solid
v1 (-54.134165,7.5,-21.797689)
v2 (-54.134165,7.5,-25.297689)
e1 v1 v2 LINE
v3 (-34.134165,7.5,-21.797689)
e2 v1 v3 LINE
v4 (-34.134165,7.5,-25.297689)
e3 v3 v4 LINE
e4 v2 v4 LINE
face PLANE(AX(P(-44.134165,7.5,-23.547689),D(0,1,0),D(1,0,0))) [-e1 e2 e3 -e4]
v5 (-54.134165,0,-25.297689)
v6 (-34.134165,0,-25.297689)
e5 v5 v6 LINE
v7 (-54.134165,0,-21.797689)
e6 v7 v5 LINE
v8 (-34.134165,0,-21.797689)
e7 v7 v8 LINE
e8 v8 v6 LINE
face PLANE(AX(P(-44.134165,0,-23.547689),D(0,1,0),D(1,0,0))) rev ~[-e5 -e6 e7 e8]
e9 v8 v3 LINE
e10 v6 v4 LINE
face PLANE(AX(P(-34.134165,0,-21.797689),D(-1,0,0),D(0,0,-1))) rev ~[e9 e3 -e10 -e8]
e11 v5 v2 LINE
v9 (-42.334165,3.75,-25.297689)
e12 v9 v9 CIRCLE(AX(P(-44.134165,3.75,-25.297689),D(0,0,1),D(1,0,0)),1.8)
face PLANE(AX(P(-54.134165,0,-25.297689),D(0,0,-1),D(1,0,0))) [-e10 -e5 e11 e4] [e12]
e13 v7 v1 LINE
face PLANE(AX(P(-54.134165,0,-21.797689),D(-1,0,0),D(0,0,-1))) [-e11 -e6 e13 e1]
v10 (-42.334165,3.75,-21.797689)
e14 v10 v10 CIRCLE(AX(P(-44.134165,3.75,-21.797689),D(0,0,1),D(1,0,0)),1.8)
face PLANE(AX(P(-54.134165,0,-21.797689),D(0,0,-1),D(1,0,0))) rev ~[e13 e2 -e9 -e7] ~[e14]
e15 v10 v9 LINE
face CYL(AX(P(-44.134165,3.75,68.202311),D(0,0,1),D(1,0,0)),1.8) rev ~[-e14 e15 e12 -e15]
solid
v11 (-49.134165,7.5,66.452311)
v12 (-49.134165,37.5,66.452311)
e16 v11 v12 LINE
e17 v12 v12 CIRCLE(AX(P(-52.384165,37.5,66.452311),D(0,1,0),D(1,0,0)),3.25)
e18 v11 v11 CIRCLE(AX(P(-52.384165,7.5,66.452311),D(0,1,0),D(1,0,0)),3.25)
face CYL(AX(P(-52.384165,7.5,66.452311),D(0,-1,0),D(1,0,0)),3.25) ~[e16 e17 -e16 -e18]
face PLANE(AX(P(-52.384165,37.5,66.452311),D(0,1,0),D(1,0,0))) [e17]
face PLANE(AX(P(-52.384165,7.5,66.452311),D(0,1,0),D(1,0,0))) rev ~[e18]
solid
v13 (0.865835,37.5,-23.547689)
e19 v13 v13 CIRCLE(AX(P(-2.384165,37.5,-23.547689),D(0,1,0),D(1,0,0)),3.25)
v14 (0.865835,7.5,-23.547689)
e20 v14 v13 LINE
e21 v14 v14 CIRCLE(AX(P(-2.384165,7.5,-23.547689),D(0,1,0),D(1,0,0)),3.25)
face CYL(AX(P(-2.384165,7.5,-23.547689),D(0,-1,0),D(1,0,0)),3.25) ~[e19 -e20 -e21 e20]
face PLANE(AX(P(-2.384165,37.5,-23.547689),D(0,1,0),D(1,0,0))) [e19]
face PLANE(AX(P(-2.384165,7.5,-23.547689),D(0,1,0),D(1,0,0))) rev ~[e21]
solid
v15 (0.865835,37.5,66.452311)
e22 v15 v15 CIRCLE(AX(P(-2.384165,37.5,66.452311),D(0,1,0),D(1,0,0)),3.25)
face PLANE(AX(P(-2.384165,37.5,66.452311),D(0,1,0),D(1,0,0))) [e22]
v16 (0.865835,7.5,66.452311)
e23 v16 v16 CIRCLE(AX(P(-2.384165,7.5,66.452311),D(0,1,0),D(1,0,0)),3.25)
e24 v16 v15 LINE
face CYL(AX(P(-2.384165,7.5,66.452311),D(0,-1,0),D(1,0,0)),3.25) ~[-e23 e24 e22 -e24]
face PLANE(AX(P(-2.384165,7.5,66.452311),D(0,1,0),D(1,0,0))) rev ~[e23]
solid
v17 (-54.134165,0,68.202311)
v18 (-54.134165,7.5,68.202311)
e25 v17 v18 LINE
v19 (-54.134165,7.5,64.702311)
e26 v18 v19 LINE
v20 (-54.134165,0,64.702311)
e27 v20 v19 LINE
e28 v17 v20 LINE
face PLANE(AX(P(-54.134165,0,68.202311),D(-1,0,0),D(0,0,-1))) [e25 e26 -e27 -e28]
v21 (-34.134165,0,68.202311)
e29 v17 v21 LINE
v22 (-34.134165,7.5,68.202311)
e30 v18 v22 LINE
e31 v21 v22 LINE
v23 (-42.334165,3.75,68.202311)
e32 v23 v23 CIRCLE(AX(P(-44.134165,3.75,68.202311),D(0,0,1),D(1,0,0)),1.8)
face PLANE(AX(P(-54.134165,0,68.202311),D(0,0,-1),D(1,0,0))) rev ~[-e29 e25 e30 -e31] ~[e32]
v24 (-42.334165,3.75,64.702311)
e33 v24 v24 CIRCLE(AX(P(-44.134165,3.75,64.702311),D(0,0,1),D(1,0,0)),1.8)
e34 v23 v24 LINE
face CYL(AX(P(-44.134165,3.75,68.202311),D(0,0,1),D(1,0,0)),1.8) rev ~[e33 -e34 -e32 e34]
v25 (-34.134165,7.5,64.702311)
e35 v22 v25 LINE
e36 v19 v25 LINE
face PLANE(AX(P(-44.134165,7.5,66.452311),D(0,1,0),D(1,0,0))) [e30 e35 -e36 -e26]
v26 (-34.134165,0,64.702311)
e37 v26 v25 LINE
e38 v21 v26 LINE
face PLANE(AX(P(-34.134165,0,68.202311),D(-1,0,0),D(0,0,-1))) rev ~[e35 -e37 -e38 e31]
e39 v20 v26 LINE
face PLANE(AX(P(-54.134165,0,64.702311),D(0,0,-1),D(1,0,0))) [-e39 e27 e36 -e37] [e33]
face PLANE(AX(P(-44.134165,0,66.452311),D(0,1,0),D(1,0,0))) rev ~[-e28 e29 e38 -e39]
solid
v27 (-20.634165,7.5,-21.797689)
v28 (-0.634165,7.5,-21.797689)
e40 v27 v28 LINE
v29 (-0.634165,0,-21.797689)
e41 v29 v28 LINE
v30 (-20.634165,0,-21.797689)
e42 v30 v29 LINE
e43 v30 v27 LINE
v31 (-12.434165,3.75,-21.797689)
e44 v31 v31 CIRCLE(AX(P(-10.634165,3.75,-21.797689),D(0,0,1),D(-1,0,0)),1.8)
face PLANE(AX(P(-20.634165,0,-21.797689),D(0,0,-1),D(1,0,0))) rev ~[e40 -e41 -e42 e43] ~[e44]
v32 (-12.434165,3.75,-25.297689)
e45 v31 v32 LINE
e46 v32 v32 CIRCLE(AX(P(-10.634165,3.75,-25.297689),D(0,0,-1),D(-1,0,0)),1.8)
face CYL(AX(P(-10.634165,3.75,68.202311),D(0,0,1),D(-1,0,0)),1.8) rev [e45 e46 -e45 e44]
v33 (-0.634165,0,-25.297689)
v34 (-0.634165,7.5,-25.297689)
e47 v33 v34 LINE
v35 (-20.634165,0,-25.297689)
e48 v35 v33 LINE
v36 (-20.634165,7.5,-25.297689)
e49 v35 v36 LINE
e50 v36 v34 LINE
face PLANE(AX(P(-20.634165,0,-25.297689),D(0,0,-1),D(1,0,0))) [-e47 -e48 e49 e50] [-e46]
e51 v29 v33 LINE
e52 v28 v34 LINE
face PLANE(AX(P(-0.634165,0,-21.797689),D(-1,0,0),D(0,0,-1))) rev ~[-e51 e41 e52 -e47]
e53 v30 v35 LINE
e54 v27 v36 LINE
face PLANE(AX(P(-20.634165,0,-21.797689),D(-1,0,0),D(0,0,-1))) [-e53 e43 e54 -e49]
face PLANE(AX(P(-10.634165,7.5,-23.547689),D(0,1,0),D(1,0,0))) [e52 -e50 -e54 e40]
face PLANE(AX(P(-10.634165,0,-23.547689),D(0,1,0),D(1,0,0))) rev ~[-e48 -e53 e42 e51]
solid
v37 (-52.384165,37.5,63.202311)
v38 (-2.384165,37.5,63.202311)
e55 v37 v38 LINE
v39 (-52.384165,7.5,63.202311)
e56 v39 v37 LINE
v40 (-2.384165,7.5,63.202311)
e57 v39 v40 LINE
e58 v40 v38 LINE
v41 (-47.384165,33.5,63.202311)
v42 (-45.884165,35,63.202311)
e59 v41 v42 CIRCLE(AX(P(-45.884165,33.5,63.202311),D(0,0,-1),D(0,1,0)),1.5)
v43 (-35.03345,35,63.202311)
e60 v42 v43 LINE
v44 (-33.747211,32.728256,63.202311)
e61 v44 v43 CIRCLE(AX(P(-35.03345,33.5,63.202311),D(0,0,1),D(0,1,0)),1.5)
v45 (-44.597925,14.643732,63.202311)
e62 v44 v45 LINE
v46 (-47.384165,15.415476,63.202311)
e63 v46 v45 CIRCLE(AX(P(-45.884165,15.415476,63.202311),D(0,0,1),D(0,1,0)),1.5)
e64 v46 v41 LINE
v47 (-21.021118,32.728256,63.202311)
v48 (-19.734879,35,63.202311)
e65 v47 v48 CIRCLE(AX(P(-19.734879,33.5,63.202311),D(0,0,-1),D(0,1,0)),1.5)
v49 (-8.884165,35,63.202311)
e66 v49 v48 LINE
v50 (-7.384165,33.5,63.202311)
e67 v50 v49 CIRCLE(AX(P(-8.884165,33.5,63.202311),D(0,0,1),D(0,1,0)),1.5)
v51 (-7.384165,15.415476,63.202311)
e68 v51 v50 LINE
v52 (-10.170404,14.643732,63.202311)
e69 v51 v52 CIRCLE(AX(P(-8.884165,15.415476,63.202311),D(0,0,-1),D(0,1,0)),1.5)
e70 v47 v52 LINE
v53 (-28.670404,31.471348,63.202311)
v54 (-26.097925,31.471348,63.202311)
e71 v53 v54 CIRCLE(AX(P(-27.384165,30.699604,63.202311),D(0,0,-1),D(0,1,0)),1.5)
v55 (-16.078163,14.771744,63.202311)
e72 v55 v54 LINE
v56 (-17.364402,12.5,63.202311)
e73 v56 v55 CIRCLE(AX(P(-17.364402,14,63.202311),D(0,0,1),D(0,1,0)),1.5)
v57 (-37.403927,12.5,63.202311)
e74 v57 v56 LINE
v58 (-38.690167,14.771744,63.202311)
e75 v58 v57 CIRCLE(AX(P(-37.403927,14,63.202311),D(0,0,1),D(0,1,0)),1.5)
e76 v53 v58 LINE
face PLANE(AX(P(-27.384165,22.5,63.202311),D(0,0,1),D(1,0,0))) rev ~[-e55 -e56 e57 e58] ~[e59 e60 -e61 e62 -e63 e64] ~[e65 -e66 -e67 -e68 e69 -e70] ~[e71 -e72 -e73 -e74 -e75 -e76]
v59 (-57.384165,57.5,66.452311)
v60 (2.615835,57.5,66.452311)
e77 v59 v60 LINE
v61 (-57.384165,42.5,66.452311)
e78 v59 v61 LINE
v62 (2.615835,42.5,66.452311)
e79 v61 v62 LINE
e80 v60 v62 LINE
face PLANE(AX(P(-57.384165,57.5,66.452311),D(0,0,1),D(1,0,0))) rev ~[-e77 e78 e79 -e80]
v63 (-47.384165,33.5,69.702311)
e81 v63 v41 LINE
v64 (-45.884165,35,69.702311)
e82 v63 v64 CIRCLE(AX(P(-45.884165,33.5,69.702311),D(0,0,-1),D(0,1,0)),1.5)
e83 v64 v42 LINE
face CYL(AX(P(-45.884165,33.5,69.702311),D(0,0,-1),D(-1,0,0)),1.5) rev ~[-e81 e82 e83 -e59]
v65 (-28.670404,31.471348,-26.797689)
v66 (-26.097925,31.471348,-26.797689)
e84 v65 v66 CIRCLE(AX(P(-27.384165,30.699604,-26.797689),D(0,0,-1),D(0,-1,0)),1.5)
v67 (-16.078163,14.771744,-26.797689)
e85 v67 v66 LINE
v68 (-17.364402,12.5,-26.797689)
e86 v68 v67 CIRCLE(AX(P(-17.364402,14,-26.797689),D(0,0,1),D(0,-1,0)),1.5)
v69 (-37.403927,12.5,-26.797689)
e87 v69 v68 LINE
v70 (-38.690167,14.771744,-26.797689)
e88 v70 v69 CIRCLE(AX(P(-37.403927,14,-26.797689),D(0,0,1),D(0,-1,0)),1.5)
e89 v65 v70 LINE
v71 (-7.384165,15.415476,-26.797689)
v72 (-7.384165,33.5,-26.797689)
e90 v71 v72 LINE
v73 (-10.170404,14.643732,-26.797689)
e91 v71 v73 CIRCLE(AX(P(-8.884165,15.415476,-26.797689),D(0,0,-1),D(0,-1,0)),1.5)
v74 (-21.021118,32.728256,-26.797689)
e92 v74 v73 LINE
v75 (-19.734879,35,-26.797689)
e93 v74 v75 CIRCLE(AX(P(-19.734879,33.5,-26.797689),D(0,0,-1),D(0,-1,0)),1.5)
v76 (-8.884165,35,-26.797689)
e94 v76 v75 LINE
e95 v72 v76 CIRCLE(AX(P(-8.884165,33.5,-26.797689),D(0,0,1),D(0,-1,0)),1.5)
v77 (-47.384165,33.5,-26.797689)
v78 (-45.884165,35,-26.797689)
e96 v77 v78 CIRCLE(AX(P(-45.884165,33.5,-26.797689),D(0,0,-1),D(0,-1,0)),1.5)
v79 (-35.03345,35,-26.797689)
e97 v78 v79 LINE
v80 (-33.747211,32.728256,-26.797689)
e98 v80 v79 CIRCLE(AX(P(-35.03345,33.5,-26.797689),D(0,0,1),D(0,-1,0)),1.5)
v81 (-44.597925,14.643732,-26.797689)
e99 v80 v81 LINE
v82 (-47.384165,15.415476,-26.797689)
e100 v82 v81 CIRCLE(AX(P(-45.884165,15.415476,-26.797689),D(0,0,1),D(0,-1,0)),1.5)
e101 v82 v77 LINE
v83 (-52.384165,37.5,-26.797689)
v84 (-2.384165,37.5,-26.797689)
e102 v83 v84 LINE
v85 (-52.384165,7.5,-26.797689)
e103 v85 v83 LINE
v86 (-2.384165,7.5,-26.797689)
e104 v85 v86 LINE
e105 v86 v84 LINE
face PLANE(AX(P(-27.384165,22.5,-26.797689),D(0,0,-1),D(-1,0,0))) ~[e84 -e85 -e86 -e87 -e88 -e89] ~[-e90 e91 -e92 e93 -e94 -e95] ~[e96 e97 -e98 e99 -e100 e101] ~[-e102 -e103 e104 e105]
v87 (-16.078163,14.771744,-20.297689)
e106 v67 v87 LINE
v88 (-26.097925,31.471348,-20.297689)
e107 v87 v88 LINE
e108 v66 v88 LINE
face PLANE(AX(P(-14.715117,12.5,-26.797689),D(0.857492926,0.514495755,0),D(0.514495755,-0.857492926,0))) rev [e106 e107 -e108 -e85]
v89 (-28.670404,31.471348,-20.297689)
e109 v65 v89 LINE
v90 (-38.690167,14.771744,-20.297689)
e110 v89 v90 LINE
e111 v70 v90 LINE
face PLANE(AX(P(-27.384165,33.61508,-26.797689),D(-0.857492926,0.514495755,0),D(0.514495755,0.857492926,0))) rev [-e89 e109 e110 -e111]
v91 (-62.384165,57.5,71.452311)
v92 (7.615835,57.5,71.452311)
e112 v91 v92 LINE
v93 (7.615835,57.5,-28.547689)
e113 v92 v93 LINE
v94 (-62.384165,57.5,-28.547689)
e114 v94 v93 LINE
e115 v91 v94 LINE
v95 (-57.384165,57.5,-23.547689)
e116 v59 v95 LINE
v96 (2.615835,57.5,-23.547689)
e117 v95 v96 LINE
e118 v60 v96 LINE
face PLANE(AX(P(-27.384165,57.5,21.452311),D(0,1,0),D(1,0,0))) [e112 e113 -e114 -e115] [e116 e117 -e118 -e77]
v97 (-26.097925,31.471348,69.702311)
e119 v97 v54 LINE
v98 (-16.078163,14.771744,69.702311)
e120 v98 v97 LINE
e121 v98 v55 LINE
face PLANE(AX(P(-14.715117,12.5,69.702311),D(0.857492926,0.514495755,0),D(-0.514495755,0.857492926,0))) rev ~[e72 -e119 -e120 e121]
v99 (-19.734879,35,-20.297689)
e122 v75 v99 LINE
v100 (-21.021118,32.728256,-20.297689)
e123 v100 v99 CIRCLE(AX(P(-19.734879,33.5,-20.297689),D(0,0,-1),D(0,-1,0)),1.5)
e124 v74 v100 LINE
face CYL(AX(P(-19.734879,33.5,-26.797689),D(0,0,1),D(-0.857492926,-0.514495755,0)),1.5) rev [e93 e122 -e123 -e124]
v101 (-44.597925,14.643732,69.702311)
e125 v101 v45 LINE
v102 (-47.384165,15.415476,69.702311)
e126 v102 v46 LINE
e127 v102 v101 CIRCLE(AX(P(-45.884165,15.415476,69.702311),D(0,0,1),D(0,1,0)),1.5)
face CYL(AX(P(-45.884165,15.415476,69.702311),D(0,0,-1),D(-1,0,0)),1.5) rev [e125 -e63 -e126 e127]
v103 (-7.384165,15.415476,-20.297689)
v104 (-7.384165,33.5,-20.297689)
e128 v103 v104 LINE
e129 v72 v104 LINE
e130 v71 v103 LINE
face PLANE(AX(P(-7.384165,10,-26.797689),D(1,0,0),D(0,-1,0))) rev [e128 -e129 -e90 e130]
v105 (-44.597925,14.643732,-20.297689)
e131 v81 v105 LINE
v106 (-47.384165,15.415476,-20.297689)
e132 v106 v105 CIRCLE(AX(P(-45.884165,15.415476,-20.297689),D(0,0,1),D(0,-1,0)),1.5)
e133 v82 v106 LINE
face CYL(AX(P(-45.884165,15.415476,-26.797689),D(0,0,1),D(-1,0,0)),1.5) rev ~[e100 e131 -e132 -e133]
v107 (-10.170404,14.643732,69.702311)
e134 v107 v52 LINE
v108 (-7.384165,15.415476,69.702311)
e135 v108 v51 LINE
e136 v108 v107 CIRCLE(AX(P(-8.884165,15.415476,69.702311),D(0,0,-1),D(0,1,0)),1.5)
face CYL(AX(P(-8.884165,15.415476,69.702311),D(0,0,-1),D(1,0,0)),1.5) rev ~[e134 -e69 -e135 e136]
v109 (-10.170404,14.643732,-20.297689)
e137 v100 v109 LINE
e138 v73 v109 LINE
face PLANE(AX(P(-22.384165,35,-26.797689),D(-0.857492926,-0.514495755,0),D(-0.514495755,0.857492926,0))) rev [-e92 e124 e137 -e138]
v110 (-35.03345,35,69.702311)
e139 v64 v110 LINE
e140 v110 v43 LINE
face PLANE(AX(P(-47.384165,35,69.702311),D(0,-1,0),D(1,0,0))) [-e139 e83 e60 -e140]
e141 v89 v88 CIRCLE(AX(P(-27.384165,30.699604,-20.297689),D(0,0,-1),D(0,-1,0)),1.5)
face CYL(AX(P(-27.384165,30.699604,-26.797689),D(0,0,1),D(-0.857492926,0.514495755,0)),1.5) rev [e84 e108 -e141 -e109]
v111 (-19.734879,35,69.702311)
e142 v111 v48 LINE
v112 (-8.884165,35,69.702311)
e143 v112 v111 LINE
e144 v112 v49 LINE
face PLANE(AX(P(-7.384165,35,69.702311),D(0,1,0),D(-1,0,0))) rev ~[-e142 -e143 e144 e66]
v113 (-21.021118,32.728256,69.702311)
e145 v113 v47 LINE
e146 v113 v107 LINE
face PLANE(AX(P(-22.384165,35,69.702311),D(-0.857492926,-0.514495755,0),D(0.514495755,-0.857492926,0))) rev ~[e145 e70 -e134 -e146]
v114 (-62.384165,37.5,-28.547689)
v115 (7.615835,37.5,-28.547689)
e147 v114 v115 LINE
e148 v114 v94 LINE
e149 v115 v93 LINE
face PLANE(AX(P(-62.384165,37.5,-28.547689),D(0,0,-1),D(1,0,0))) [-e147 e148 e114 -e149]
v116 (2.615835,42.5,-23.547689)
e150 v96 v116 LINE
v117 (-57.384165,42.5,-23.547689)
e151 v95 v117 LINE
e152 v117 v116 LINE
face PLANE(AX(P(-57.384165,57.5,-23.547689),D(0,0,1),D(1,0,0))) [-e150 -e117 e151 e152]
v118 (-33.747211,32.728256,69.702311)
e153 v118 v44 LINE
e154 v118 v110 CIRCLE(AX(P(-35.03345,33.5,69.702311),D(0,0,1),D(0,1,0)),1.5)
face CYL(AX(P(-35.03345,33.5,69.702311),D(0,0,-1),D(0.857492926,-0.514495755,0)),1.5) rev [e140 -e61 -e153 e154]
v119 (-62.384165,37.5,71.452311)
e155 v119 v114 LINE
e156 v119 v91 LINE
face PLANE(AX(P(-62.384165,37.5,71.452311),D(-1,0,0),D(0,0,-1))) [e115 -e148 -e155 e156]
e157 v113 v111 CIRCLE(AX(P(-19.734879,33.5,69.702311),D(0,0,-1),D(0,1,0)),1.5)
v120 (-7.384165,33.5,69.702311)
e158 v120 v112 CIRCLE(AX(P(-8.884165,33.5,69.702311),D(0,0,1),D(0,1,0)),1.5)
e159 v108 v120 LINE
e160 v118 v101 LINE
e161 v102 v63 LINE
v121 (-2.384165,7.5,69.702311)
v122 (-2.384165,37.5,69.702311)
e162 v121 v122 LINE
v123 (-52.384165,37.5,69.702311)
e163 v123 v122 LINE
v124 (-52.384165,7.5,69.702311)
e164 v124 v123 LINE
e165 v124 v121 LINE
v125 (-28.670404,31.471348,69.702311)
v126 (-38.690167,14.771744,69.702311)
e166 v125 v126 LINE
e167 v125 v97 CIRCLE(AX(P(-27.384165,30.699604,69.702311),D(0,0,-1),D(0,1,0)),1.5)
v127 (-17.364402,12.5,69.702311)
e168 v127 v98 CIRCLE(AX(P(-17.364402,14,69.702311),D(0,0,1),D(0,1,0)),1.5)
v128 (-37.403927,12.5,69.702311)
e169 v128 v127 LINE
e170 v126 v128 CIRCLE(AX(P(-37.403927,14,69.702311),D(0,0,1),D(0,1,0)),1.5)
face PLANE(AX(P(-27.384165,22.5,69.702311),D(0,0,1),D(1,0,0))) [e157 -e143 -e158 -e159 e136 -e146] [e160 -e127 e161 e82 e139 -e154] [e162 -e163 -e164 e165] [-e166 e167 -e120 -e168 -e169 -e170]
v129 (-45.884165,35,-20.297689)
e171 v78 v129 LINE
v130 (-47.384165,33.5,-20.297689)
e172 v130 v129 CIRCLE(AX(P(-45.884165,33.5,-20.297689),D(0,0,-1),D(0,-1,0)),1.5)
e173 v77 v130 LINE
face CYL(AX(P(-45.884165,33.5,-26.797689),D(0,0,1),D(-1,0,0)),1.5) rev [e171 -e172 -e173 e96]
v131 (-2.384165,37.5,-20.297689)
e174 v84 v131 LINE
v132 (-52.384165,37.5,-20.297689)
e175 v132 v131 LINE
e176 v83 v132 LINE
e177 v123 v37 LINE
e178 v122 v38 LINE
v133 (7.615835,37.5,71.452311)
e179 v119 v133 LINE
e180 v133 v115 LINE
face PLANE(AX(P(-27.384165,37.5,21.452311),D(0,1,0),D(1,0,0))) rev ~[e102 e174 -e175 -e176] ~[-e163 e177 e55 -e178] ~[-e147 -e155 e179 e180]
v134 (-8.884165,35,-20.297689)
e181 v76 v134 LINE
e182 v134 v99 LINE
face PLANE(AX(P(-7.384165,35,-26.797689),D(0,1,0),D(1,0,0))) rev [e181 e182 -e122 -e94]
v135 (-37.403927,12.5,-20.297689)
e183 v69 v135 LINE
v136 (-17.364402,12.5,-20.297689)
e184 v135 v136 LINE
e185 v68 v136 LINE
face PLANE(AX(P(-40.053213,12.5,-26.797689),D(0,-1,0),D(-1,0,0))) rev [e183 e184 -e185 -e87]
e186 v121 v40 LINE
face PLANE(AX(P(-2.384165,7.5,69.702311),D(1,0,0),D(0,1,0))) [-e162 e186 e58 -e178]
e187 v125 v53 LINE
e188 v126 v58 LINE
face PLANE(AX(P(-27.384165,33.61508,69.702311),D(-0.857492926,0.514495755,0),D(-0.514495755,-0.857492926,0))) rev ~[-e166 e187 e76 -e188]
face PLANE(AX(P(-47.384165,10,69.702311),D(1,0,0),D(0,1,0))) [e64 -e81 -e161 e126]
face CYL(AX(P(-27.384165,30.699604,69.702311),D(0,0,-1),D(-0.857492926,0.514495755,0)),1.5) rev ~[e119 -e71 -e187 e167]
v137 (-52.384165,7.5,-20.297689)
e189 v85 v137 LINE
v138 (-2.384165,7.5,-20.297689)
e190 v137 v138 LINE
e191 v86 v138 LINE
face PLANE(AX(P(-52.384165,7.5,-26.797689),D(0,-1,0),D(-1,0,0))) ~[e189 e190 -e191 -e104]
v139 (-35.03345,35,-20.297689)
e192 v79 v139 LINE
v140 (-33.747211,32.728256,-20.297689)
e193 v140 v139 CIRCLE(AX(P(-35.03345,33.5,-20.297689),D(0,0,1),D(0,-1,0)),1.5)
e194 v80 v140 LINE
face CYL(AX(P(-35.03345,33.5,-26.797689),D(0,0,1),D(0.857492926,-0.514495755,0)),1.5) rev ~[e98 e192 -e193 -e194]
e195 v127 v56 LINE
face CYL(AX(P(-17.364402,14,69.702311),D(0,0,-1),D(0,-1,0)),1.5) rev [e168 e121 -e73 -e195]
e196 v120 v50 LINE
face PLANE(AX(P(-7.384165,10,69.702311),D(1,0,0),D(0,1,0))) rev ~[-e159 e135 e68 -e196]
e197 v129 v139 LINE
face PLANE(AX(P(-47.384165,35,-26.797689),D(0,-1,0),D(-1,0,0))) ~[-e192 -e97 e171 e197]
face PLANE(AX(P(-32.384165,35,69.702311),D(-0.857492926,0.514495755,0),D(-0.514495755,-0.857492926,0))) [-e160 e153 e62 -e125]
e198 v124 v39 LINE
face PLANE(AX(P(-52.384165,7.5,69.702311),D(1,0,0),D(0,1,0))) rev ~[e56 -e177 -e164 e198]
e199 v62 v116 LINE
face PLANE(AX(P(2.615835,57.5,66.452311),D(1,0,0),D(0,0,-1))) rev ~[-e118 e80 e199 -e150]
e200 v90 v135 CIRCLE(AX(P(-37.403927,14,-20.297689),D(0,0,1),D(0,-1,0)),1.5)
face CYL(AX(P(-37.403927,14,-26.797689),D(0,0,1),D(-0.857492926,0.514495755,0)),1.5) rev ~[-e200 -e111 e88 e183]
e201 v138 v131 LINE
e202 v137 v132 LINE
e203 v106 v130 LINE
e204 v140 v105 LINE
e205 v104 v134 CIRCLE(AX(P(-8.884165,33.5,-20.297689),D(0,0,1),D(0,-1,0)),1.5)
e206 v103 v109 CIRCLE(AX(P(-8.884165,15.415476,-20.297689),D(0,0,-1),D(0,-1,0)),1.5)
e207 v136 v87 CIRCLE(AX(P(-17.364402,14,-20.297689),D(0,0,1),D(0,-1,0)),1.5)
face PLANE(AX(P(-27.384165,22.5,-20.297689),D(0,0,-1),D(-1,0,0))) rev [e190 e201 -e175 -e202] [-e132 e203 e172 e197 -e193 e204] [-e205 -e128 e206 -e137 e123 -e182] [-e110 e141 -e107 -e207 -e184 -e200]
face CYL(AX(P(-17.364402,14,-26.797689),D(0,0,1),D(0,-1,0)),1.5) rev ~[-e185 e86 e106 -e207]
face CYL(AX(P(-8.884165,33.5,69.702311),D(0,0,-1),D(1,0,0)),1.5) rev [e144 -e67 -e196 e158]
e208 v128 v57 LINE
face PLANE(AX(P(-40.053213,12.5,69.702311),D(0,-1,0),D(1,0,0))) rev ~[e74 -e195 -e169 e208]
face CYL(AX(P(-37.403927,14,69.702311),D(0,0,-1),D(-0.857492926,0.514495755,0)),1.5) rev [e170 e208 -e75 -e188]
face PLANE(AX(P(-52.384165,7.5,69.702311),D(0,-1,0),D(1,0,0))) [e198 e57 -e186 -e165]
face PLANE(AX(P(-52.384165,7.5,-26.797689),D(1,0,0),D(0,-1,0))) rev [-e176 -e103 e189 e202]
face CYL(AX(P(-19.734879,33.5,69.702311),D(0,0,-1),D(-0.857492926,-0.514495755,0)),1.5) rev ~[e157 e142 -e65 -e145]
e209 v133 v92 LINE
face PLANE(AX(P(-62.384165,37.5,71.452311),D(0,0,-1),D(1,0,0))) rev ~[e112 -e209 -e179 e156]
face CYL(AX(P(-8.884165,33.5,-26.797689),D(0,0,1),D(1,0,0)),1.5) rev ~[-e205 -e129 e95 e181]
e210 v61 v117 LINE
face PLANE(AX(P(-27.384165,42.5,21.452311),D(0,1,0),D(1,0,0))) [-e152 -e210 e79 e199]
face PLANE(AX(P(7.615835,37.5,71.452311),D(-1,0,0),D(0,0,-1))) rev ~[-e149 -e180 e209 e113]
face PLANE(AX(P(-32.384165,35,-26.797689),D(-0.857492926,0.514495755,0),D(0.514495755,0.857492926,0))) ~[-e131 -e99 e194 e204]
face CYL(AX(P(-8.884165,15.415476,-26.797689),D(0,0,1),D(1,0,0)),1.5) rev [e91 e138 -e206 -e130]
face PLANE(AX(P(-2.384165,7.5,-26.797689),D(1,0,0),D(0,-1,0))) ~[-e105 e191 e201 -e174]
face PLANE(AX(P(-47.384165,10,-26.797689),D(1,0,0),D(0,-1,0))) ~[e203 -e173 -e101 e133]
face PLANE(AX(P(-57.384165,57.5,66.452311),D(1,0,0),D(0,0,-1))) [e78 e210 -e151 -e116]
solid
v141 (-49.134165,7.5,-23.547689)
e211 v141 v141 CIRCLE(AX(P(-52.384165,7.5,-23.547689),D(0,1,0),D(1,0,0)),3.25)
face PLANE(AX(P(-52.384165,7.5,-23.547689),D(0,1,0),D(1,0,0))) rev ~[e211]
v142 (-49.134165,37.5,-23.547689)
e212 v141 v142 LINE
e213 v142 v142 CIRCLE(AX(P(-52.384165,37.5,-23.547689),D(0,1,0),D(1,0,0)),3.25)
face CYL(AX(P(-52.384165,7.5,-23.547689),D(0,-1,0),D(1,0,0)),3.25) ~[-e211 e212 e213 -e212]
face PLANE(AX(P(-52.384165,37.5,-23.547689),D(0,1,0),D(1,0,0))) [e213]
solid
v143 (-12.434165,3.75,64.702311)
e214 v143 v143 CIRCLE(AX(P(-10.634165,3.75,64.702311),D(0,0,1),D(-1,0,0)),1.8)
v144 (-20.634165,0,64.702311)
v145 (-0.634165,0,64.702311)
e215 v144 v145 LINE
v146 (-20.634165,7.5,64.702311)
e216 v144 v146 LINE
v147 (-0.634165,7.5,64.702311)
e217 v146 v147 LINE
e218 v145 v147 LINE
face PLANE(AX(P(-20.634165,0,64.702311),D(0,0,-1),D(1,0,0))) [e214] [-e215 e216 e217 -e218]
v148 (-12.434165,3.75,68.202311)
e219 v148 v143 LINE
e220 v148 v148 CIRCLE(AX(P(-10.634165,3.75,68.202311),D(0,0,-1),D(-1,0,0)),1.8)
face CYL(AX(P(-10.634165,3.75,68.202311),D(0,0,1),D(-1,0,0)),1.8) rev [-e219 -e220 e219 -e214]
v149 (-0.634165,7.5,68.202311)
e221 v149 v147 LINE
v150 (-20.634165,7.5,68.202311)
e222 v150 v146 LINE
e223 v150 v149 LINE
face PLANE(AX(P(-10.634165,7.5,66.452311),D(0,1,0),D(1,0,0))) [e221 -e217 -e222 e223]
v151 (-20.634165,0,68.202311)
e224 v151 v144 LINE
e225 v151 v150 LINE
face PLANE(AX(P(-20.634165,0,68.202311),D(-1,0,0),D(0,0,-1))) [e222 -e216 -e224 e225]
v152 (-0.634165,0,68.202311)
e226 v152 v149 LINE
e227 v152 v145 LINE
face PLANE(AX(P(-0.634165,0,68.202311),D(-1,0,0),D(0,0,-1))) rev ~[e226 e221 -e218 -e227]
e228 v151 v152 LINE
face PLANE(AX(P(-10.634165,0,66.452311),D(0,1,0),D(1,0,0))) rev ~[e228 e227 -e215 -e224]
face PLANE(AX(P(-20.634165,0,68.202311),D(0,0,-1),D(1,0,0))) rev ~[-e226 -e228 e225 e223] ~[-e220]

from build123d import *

# Parameters (mm, degrees)
SKETCH1_W             = 20
SKETCH1_H             = 3.5
BOSS_EXTRUDE1_DEPTH   = 7.5
BOSS_EXTRUDE1_2_DEPTH = 7.5
BOSS_EXTRUDE1_3_DEPTH = 7.5
BOSS_EXTRUDE1_4_DEPTH = 7.5
SKETCH2_R             = 3.25
BOSS_EXTRUDE2_DEPTH   = 30
BOSS_EXTRUDE2_2_DEPTH = 30
BOSS_EXTRUDE2_3_DEPTH = 30
BOSS_EXTRUDE2_4_DEPTH = 30
SKETCH3_W             = 70
SKETCH3_H             = 100
BOSS_EXTRUDE3_DEPTH   = 20
SKETCH4_W             = 60
SKETCH4_H             = 90
CUT_EXTRUDE1_DEPTH    = 15
SKETCH5_W             = 50
SKETCH5_H             = 30
BOSS_EXTRUDE4_DEPTH   = 6.5
FILLET2_R             = 1.5
SKETCH7_R             = 1.8
CUT_EXTRUDE2_DEPTH    = 93.5


with BuildPart() as part:
    # Sketch1 → Boss-Extrude1 (new body)
    with BuildSketch(Plane(origin=(0, 0, 0), x_dir=(1, 0, 0), z_dir=(0, 1, 0))):
        with Locations((-44.134164605, 23.547689378)):
            Rectangle(SKETCH1_W, SKETCH1_H)
    extrude(amount=BOSS_EXTRUDE1_DEPTH)


with BuildPart() as body_2:
    # Sketch1 → Boss-Extrude1 2 (new body)
    with BuildSketch(Plane(origin=(0, 0, 0), x_dir=(1, 0, 0), z_dir=(0, 1, 0))):
        with Locations((-10.634164605, 23.547689378)):
            Rectangle(SKETCH1_W, SKETCH1_H)
    extrude(amount=BOSS_EXTRUDE1_2_DEPTH)


with BuildPart() as body_3:
    # Sketch1 → Boss-Extrude1 3 (new body)
    with BuildSketch(Plane(origin=(0, 0, 0), x_dir=(1, 0, 0), z_dir=(0, 1, 0))):
        with Locations((-44.134164605, -66.452310622)):
            Rectangle(SKETCH1_W, SKETCH1_H)
    extrude(amount=BOSS_EXTRUDE1_3_DEPTH)


with BuildPart() as body_4:
    # Sketch1 → Boss-Extrude1 4 (new body)
    with BuildSketch(Plane(origin=(0, 0, 0), x_dir=(1, 0, 0), z_dir=(0, 1, 0))):
        with Locations((-10.634164605, -66.452310622)):
            Rectangle(SKETCH1_W, SKETCH1_H)
    extrude(amount=BOSS_EXTRUDE1_4_DEPTH)


with BuildPart() as body_5:
    # Sketch2 → Boss-Extrude2 (new body)
    with BuildSketch(Plane(origin=(0, 7.5, 0), x_dir=(1, 0, 0), z_dir=(0, 1, 0))):
        with Locations((-2.384164605, -66.452310622)):
            Circle(SKETCH2_R)
    extrude(amount=BOSS_EXTRUDE2_DEPTH)


with BuildPart() as body_6:
    # Sketch2 → Boss-Extrude2 2 (new body)
    with BuildSketch(Plane(origin=(0, 7.5, 0), x_dir=(1, 0, 0), z_dir=(0, 1, 0))):
        with Locations((-52.384164605, 23.547689378)):
            Circle(SKETCH2_R)
    extrude(amount=BOSS_EXTRUDE2_2_DEPTH)


with BuildPart() as body_7:
    # Sketch2 → Boss-Extrude2 3 (new body)
    with BuildSketch(Plane(origin=(0, 7.5, 0), x_dir=(1, 0, 0), z_dir=(0, 1, 0))):
        with Locations((-2.384164605, 23.547689378)):
            Circle(SKETCH2_R)
    extrude(amount=BOSS_EXTRUDE2_3_DEPTH)


with BuildPart() as body_8:
    # Sketch2 → Boss-Extrude2 4 (new body)
    with BuildSketch(Plane(origin=(0, 7.5, 0), x_dir=(1, 0, 0), z_dir=(0, 1, 0))):
        with Locations((-52.384164605, -66.452310622)):
            Circle(SKETCH2_R)
    extrude(amount=BOSS_EXTRUDE2_4_DEPTH)


with BuildPart() as body_9:
    # Sketch3 → Boss-Extrude3 (new body)
    with BuildSketch(Plane(origin=(0, 37.5, 0), x_dir=(1, 0, 0), z_dir=(0, 1, 0))):
        with Locations((-27.384164605, -21.452310622)):
            Rectangle(SKETCH3_W, SKETCH3_H)
    extrude(amount=BOSS_EXTRUDE3_DEPTH)

    # Sketch4 → Cut-Extrude1 (cut)
    with BuildSketch(Plane(origin=(0, 57.5, 0), x_dir=(1, 0, 0), z_dir=(0, 1, 0))):
        with Locations((-27.384164605, -21.452310622)):
            Rectangle(SKETCH4_W, SKETCH4_H)
    extrude(amount=-CUT_EXTRUDE1_DEPTH, mode=Mode.SUBTRACT)

    # Sketch5 → Boss-Extrude4 (add)
    with BuildSketch(Plane.XY.offset(69.702310622)):
        with Locations((-27.384164605, 22.5)):
            Rectangle(SKETCH5_W, SKETCH5_H)
        Polygon((-47.384164605, 35), (-32.384164605, 35), (-47.384164605, 10), align=None, mode=Mode.SUBTRACT)
        Polygon((-7.384164605, 10), (-7.384164605, 35), (-22.384164605, 35), align=None, mode=Mode.SUBTRACT)
        Polygon((-27.384164605, 33.615080175), (-40.05321271, 12.5), (-14.7151165, 12.5), align=None, mode=Mode.SUBTRACT)
    boss_extrude4 = extrude(amount=-BOSS_EXTRUDE4_DEPTH)

    # Mirror1: Boss-Extrude4 across plane
    add(boss_extrude4.mirror(Plane(origin=(0, 0, 21.452310622), x_dir=(1, 0, 0), z_dir=(0, 0, -1))))

    # Fillet2
    fillet2_edges = [body_9.edges().sort_by_distance(p)[0] for p in [
        (-47.384164605, 35, 66.452310622),
        (-32.384164605, 35, 66.452310622),
        (-47.384164605, 10, 66.452310622),
        (-22.384164605, 35, 66.452310622),
        (-7.384164605, 35, 66.452310622),
        (-7.384164605, 10, 66.452310622),
        (-14.7151165, 12.5, 66.452310622),
        (-40.05321271, 12.5, 66.452310622),
        (-27.384164605, 33.615080175, 66.452310622),
        (-47.384164605, 10, -23.547689378),
        (-32.384164605, 35, -23.547689378),
        (-47.384164605, 35, -23.547689378),
        (-7.384164605, 10, -23.547689378),
        (-7.384164605, 35, -23.547689378),
        (-22.384164605, 35, -23.547689378),
        (-27.384164605, 33.615080175, -23.547689378),
        (-40.05321271, 12.5, -23.547689378),
        (-14.7151165, 12.5, -23.547689378),
    ]]
    fillet(fillet2_edges, radius=FILLET2_R)


with BuildPart() as cut_extrude2_tool:
    # Sketch7 → Cut-Extrude2 (new body)
    with BuildSketch(Plane.XY.offset(68.202310622)):
        with Locations((-44.134164605, 3.75)):
            Circle(SKETCH7_R)
    cut_extrude2 = extrude(amount=-CUT_EXTRUDE2_DEPTH)


with BuildPart() as part_1:
    add(part.part)

    # Cut-Extrude2: cut by cut_extrude2_tool
    add(cut_extrude2_tool.part, mode=Mode.SUBTRACT)


with BuildPart() as body_3_1:
    add(body_3.part)

    # Cut-Extrude2: cut by cut_extrude2_tool
    add(cut_extrude2_tool.part, mode=Mode.SUBTRACT)


with BuildPart() as mirror2_tool:
    # Mirror2: Cut-Extrude2 across plane
    add(cut_extrude2.mirror(Plane.ZY.offset(27.384164605)))


with BuildPart() as body_2_1:
    add(body_2.part)

    # Mirror2: cut by mirror2_tool
    add(mirror2_tool.part, mode=Mode.SUBTRACT)


with BuildPart() as body_4_1:
    add(body_4.part)

    # Mirror2: cut by mirror2_tool
    add(mirror2_tool.part, mode=Mode.SUBTRACT)


solid = Compound([body_5.part, body_6.part, body_7.part, body_8.part, body_9.part, part_1.part, body_3_1.part, body_2_1.part, body_4_1.part])
